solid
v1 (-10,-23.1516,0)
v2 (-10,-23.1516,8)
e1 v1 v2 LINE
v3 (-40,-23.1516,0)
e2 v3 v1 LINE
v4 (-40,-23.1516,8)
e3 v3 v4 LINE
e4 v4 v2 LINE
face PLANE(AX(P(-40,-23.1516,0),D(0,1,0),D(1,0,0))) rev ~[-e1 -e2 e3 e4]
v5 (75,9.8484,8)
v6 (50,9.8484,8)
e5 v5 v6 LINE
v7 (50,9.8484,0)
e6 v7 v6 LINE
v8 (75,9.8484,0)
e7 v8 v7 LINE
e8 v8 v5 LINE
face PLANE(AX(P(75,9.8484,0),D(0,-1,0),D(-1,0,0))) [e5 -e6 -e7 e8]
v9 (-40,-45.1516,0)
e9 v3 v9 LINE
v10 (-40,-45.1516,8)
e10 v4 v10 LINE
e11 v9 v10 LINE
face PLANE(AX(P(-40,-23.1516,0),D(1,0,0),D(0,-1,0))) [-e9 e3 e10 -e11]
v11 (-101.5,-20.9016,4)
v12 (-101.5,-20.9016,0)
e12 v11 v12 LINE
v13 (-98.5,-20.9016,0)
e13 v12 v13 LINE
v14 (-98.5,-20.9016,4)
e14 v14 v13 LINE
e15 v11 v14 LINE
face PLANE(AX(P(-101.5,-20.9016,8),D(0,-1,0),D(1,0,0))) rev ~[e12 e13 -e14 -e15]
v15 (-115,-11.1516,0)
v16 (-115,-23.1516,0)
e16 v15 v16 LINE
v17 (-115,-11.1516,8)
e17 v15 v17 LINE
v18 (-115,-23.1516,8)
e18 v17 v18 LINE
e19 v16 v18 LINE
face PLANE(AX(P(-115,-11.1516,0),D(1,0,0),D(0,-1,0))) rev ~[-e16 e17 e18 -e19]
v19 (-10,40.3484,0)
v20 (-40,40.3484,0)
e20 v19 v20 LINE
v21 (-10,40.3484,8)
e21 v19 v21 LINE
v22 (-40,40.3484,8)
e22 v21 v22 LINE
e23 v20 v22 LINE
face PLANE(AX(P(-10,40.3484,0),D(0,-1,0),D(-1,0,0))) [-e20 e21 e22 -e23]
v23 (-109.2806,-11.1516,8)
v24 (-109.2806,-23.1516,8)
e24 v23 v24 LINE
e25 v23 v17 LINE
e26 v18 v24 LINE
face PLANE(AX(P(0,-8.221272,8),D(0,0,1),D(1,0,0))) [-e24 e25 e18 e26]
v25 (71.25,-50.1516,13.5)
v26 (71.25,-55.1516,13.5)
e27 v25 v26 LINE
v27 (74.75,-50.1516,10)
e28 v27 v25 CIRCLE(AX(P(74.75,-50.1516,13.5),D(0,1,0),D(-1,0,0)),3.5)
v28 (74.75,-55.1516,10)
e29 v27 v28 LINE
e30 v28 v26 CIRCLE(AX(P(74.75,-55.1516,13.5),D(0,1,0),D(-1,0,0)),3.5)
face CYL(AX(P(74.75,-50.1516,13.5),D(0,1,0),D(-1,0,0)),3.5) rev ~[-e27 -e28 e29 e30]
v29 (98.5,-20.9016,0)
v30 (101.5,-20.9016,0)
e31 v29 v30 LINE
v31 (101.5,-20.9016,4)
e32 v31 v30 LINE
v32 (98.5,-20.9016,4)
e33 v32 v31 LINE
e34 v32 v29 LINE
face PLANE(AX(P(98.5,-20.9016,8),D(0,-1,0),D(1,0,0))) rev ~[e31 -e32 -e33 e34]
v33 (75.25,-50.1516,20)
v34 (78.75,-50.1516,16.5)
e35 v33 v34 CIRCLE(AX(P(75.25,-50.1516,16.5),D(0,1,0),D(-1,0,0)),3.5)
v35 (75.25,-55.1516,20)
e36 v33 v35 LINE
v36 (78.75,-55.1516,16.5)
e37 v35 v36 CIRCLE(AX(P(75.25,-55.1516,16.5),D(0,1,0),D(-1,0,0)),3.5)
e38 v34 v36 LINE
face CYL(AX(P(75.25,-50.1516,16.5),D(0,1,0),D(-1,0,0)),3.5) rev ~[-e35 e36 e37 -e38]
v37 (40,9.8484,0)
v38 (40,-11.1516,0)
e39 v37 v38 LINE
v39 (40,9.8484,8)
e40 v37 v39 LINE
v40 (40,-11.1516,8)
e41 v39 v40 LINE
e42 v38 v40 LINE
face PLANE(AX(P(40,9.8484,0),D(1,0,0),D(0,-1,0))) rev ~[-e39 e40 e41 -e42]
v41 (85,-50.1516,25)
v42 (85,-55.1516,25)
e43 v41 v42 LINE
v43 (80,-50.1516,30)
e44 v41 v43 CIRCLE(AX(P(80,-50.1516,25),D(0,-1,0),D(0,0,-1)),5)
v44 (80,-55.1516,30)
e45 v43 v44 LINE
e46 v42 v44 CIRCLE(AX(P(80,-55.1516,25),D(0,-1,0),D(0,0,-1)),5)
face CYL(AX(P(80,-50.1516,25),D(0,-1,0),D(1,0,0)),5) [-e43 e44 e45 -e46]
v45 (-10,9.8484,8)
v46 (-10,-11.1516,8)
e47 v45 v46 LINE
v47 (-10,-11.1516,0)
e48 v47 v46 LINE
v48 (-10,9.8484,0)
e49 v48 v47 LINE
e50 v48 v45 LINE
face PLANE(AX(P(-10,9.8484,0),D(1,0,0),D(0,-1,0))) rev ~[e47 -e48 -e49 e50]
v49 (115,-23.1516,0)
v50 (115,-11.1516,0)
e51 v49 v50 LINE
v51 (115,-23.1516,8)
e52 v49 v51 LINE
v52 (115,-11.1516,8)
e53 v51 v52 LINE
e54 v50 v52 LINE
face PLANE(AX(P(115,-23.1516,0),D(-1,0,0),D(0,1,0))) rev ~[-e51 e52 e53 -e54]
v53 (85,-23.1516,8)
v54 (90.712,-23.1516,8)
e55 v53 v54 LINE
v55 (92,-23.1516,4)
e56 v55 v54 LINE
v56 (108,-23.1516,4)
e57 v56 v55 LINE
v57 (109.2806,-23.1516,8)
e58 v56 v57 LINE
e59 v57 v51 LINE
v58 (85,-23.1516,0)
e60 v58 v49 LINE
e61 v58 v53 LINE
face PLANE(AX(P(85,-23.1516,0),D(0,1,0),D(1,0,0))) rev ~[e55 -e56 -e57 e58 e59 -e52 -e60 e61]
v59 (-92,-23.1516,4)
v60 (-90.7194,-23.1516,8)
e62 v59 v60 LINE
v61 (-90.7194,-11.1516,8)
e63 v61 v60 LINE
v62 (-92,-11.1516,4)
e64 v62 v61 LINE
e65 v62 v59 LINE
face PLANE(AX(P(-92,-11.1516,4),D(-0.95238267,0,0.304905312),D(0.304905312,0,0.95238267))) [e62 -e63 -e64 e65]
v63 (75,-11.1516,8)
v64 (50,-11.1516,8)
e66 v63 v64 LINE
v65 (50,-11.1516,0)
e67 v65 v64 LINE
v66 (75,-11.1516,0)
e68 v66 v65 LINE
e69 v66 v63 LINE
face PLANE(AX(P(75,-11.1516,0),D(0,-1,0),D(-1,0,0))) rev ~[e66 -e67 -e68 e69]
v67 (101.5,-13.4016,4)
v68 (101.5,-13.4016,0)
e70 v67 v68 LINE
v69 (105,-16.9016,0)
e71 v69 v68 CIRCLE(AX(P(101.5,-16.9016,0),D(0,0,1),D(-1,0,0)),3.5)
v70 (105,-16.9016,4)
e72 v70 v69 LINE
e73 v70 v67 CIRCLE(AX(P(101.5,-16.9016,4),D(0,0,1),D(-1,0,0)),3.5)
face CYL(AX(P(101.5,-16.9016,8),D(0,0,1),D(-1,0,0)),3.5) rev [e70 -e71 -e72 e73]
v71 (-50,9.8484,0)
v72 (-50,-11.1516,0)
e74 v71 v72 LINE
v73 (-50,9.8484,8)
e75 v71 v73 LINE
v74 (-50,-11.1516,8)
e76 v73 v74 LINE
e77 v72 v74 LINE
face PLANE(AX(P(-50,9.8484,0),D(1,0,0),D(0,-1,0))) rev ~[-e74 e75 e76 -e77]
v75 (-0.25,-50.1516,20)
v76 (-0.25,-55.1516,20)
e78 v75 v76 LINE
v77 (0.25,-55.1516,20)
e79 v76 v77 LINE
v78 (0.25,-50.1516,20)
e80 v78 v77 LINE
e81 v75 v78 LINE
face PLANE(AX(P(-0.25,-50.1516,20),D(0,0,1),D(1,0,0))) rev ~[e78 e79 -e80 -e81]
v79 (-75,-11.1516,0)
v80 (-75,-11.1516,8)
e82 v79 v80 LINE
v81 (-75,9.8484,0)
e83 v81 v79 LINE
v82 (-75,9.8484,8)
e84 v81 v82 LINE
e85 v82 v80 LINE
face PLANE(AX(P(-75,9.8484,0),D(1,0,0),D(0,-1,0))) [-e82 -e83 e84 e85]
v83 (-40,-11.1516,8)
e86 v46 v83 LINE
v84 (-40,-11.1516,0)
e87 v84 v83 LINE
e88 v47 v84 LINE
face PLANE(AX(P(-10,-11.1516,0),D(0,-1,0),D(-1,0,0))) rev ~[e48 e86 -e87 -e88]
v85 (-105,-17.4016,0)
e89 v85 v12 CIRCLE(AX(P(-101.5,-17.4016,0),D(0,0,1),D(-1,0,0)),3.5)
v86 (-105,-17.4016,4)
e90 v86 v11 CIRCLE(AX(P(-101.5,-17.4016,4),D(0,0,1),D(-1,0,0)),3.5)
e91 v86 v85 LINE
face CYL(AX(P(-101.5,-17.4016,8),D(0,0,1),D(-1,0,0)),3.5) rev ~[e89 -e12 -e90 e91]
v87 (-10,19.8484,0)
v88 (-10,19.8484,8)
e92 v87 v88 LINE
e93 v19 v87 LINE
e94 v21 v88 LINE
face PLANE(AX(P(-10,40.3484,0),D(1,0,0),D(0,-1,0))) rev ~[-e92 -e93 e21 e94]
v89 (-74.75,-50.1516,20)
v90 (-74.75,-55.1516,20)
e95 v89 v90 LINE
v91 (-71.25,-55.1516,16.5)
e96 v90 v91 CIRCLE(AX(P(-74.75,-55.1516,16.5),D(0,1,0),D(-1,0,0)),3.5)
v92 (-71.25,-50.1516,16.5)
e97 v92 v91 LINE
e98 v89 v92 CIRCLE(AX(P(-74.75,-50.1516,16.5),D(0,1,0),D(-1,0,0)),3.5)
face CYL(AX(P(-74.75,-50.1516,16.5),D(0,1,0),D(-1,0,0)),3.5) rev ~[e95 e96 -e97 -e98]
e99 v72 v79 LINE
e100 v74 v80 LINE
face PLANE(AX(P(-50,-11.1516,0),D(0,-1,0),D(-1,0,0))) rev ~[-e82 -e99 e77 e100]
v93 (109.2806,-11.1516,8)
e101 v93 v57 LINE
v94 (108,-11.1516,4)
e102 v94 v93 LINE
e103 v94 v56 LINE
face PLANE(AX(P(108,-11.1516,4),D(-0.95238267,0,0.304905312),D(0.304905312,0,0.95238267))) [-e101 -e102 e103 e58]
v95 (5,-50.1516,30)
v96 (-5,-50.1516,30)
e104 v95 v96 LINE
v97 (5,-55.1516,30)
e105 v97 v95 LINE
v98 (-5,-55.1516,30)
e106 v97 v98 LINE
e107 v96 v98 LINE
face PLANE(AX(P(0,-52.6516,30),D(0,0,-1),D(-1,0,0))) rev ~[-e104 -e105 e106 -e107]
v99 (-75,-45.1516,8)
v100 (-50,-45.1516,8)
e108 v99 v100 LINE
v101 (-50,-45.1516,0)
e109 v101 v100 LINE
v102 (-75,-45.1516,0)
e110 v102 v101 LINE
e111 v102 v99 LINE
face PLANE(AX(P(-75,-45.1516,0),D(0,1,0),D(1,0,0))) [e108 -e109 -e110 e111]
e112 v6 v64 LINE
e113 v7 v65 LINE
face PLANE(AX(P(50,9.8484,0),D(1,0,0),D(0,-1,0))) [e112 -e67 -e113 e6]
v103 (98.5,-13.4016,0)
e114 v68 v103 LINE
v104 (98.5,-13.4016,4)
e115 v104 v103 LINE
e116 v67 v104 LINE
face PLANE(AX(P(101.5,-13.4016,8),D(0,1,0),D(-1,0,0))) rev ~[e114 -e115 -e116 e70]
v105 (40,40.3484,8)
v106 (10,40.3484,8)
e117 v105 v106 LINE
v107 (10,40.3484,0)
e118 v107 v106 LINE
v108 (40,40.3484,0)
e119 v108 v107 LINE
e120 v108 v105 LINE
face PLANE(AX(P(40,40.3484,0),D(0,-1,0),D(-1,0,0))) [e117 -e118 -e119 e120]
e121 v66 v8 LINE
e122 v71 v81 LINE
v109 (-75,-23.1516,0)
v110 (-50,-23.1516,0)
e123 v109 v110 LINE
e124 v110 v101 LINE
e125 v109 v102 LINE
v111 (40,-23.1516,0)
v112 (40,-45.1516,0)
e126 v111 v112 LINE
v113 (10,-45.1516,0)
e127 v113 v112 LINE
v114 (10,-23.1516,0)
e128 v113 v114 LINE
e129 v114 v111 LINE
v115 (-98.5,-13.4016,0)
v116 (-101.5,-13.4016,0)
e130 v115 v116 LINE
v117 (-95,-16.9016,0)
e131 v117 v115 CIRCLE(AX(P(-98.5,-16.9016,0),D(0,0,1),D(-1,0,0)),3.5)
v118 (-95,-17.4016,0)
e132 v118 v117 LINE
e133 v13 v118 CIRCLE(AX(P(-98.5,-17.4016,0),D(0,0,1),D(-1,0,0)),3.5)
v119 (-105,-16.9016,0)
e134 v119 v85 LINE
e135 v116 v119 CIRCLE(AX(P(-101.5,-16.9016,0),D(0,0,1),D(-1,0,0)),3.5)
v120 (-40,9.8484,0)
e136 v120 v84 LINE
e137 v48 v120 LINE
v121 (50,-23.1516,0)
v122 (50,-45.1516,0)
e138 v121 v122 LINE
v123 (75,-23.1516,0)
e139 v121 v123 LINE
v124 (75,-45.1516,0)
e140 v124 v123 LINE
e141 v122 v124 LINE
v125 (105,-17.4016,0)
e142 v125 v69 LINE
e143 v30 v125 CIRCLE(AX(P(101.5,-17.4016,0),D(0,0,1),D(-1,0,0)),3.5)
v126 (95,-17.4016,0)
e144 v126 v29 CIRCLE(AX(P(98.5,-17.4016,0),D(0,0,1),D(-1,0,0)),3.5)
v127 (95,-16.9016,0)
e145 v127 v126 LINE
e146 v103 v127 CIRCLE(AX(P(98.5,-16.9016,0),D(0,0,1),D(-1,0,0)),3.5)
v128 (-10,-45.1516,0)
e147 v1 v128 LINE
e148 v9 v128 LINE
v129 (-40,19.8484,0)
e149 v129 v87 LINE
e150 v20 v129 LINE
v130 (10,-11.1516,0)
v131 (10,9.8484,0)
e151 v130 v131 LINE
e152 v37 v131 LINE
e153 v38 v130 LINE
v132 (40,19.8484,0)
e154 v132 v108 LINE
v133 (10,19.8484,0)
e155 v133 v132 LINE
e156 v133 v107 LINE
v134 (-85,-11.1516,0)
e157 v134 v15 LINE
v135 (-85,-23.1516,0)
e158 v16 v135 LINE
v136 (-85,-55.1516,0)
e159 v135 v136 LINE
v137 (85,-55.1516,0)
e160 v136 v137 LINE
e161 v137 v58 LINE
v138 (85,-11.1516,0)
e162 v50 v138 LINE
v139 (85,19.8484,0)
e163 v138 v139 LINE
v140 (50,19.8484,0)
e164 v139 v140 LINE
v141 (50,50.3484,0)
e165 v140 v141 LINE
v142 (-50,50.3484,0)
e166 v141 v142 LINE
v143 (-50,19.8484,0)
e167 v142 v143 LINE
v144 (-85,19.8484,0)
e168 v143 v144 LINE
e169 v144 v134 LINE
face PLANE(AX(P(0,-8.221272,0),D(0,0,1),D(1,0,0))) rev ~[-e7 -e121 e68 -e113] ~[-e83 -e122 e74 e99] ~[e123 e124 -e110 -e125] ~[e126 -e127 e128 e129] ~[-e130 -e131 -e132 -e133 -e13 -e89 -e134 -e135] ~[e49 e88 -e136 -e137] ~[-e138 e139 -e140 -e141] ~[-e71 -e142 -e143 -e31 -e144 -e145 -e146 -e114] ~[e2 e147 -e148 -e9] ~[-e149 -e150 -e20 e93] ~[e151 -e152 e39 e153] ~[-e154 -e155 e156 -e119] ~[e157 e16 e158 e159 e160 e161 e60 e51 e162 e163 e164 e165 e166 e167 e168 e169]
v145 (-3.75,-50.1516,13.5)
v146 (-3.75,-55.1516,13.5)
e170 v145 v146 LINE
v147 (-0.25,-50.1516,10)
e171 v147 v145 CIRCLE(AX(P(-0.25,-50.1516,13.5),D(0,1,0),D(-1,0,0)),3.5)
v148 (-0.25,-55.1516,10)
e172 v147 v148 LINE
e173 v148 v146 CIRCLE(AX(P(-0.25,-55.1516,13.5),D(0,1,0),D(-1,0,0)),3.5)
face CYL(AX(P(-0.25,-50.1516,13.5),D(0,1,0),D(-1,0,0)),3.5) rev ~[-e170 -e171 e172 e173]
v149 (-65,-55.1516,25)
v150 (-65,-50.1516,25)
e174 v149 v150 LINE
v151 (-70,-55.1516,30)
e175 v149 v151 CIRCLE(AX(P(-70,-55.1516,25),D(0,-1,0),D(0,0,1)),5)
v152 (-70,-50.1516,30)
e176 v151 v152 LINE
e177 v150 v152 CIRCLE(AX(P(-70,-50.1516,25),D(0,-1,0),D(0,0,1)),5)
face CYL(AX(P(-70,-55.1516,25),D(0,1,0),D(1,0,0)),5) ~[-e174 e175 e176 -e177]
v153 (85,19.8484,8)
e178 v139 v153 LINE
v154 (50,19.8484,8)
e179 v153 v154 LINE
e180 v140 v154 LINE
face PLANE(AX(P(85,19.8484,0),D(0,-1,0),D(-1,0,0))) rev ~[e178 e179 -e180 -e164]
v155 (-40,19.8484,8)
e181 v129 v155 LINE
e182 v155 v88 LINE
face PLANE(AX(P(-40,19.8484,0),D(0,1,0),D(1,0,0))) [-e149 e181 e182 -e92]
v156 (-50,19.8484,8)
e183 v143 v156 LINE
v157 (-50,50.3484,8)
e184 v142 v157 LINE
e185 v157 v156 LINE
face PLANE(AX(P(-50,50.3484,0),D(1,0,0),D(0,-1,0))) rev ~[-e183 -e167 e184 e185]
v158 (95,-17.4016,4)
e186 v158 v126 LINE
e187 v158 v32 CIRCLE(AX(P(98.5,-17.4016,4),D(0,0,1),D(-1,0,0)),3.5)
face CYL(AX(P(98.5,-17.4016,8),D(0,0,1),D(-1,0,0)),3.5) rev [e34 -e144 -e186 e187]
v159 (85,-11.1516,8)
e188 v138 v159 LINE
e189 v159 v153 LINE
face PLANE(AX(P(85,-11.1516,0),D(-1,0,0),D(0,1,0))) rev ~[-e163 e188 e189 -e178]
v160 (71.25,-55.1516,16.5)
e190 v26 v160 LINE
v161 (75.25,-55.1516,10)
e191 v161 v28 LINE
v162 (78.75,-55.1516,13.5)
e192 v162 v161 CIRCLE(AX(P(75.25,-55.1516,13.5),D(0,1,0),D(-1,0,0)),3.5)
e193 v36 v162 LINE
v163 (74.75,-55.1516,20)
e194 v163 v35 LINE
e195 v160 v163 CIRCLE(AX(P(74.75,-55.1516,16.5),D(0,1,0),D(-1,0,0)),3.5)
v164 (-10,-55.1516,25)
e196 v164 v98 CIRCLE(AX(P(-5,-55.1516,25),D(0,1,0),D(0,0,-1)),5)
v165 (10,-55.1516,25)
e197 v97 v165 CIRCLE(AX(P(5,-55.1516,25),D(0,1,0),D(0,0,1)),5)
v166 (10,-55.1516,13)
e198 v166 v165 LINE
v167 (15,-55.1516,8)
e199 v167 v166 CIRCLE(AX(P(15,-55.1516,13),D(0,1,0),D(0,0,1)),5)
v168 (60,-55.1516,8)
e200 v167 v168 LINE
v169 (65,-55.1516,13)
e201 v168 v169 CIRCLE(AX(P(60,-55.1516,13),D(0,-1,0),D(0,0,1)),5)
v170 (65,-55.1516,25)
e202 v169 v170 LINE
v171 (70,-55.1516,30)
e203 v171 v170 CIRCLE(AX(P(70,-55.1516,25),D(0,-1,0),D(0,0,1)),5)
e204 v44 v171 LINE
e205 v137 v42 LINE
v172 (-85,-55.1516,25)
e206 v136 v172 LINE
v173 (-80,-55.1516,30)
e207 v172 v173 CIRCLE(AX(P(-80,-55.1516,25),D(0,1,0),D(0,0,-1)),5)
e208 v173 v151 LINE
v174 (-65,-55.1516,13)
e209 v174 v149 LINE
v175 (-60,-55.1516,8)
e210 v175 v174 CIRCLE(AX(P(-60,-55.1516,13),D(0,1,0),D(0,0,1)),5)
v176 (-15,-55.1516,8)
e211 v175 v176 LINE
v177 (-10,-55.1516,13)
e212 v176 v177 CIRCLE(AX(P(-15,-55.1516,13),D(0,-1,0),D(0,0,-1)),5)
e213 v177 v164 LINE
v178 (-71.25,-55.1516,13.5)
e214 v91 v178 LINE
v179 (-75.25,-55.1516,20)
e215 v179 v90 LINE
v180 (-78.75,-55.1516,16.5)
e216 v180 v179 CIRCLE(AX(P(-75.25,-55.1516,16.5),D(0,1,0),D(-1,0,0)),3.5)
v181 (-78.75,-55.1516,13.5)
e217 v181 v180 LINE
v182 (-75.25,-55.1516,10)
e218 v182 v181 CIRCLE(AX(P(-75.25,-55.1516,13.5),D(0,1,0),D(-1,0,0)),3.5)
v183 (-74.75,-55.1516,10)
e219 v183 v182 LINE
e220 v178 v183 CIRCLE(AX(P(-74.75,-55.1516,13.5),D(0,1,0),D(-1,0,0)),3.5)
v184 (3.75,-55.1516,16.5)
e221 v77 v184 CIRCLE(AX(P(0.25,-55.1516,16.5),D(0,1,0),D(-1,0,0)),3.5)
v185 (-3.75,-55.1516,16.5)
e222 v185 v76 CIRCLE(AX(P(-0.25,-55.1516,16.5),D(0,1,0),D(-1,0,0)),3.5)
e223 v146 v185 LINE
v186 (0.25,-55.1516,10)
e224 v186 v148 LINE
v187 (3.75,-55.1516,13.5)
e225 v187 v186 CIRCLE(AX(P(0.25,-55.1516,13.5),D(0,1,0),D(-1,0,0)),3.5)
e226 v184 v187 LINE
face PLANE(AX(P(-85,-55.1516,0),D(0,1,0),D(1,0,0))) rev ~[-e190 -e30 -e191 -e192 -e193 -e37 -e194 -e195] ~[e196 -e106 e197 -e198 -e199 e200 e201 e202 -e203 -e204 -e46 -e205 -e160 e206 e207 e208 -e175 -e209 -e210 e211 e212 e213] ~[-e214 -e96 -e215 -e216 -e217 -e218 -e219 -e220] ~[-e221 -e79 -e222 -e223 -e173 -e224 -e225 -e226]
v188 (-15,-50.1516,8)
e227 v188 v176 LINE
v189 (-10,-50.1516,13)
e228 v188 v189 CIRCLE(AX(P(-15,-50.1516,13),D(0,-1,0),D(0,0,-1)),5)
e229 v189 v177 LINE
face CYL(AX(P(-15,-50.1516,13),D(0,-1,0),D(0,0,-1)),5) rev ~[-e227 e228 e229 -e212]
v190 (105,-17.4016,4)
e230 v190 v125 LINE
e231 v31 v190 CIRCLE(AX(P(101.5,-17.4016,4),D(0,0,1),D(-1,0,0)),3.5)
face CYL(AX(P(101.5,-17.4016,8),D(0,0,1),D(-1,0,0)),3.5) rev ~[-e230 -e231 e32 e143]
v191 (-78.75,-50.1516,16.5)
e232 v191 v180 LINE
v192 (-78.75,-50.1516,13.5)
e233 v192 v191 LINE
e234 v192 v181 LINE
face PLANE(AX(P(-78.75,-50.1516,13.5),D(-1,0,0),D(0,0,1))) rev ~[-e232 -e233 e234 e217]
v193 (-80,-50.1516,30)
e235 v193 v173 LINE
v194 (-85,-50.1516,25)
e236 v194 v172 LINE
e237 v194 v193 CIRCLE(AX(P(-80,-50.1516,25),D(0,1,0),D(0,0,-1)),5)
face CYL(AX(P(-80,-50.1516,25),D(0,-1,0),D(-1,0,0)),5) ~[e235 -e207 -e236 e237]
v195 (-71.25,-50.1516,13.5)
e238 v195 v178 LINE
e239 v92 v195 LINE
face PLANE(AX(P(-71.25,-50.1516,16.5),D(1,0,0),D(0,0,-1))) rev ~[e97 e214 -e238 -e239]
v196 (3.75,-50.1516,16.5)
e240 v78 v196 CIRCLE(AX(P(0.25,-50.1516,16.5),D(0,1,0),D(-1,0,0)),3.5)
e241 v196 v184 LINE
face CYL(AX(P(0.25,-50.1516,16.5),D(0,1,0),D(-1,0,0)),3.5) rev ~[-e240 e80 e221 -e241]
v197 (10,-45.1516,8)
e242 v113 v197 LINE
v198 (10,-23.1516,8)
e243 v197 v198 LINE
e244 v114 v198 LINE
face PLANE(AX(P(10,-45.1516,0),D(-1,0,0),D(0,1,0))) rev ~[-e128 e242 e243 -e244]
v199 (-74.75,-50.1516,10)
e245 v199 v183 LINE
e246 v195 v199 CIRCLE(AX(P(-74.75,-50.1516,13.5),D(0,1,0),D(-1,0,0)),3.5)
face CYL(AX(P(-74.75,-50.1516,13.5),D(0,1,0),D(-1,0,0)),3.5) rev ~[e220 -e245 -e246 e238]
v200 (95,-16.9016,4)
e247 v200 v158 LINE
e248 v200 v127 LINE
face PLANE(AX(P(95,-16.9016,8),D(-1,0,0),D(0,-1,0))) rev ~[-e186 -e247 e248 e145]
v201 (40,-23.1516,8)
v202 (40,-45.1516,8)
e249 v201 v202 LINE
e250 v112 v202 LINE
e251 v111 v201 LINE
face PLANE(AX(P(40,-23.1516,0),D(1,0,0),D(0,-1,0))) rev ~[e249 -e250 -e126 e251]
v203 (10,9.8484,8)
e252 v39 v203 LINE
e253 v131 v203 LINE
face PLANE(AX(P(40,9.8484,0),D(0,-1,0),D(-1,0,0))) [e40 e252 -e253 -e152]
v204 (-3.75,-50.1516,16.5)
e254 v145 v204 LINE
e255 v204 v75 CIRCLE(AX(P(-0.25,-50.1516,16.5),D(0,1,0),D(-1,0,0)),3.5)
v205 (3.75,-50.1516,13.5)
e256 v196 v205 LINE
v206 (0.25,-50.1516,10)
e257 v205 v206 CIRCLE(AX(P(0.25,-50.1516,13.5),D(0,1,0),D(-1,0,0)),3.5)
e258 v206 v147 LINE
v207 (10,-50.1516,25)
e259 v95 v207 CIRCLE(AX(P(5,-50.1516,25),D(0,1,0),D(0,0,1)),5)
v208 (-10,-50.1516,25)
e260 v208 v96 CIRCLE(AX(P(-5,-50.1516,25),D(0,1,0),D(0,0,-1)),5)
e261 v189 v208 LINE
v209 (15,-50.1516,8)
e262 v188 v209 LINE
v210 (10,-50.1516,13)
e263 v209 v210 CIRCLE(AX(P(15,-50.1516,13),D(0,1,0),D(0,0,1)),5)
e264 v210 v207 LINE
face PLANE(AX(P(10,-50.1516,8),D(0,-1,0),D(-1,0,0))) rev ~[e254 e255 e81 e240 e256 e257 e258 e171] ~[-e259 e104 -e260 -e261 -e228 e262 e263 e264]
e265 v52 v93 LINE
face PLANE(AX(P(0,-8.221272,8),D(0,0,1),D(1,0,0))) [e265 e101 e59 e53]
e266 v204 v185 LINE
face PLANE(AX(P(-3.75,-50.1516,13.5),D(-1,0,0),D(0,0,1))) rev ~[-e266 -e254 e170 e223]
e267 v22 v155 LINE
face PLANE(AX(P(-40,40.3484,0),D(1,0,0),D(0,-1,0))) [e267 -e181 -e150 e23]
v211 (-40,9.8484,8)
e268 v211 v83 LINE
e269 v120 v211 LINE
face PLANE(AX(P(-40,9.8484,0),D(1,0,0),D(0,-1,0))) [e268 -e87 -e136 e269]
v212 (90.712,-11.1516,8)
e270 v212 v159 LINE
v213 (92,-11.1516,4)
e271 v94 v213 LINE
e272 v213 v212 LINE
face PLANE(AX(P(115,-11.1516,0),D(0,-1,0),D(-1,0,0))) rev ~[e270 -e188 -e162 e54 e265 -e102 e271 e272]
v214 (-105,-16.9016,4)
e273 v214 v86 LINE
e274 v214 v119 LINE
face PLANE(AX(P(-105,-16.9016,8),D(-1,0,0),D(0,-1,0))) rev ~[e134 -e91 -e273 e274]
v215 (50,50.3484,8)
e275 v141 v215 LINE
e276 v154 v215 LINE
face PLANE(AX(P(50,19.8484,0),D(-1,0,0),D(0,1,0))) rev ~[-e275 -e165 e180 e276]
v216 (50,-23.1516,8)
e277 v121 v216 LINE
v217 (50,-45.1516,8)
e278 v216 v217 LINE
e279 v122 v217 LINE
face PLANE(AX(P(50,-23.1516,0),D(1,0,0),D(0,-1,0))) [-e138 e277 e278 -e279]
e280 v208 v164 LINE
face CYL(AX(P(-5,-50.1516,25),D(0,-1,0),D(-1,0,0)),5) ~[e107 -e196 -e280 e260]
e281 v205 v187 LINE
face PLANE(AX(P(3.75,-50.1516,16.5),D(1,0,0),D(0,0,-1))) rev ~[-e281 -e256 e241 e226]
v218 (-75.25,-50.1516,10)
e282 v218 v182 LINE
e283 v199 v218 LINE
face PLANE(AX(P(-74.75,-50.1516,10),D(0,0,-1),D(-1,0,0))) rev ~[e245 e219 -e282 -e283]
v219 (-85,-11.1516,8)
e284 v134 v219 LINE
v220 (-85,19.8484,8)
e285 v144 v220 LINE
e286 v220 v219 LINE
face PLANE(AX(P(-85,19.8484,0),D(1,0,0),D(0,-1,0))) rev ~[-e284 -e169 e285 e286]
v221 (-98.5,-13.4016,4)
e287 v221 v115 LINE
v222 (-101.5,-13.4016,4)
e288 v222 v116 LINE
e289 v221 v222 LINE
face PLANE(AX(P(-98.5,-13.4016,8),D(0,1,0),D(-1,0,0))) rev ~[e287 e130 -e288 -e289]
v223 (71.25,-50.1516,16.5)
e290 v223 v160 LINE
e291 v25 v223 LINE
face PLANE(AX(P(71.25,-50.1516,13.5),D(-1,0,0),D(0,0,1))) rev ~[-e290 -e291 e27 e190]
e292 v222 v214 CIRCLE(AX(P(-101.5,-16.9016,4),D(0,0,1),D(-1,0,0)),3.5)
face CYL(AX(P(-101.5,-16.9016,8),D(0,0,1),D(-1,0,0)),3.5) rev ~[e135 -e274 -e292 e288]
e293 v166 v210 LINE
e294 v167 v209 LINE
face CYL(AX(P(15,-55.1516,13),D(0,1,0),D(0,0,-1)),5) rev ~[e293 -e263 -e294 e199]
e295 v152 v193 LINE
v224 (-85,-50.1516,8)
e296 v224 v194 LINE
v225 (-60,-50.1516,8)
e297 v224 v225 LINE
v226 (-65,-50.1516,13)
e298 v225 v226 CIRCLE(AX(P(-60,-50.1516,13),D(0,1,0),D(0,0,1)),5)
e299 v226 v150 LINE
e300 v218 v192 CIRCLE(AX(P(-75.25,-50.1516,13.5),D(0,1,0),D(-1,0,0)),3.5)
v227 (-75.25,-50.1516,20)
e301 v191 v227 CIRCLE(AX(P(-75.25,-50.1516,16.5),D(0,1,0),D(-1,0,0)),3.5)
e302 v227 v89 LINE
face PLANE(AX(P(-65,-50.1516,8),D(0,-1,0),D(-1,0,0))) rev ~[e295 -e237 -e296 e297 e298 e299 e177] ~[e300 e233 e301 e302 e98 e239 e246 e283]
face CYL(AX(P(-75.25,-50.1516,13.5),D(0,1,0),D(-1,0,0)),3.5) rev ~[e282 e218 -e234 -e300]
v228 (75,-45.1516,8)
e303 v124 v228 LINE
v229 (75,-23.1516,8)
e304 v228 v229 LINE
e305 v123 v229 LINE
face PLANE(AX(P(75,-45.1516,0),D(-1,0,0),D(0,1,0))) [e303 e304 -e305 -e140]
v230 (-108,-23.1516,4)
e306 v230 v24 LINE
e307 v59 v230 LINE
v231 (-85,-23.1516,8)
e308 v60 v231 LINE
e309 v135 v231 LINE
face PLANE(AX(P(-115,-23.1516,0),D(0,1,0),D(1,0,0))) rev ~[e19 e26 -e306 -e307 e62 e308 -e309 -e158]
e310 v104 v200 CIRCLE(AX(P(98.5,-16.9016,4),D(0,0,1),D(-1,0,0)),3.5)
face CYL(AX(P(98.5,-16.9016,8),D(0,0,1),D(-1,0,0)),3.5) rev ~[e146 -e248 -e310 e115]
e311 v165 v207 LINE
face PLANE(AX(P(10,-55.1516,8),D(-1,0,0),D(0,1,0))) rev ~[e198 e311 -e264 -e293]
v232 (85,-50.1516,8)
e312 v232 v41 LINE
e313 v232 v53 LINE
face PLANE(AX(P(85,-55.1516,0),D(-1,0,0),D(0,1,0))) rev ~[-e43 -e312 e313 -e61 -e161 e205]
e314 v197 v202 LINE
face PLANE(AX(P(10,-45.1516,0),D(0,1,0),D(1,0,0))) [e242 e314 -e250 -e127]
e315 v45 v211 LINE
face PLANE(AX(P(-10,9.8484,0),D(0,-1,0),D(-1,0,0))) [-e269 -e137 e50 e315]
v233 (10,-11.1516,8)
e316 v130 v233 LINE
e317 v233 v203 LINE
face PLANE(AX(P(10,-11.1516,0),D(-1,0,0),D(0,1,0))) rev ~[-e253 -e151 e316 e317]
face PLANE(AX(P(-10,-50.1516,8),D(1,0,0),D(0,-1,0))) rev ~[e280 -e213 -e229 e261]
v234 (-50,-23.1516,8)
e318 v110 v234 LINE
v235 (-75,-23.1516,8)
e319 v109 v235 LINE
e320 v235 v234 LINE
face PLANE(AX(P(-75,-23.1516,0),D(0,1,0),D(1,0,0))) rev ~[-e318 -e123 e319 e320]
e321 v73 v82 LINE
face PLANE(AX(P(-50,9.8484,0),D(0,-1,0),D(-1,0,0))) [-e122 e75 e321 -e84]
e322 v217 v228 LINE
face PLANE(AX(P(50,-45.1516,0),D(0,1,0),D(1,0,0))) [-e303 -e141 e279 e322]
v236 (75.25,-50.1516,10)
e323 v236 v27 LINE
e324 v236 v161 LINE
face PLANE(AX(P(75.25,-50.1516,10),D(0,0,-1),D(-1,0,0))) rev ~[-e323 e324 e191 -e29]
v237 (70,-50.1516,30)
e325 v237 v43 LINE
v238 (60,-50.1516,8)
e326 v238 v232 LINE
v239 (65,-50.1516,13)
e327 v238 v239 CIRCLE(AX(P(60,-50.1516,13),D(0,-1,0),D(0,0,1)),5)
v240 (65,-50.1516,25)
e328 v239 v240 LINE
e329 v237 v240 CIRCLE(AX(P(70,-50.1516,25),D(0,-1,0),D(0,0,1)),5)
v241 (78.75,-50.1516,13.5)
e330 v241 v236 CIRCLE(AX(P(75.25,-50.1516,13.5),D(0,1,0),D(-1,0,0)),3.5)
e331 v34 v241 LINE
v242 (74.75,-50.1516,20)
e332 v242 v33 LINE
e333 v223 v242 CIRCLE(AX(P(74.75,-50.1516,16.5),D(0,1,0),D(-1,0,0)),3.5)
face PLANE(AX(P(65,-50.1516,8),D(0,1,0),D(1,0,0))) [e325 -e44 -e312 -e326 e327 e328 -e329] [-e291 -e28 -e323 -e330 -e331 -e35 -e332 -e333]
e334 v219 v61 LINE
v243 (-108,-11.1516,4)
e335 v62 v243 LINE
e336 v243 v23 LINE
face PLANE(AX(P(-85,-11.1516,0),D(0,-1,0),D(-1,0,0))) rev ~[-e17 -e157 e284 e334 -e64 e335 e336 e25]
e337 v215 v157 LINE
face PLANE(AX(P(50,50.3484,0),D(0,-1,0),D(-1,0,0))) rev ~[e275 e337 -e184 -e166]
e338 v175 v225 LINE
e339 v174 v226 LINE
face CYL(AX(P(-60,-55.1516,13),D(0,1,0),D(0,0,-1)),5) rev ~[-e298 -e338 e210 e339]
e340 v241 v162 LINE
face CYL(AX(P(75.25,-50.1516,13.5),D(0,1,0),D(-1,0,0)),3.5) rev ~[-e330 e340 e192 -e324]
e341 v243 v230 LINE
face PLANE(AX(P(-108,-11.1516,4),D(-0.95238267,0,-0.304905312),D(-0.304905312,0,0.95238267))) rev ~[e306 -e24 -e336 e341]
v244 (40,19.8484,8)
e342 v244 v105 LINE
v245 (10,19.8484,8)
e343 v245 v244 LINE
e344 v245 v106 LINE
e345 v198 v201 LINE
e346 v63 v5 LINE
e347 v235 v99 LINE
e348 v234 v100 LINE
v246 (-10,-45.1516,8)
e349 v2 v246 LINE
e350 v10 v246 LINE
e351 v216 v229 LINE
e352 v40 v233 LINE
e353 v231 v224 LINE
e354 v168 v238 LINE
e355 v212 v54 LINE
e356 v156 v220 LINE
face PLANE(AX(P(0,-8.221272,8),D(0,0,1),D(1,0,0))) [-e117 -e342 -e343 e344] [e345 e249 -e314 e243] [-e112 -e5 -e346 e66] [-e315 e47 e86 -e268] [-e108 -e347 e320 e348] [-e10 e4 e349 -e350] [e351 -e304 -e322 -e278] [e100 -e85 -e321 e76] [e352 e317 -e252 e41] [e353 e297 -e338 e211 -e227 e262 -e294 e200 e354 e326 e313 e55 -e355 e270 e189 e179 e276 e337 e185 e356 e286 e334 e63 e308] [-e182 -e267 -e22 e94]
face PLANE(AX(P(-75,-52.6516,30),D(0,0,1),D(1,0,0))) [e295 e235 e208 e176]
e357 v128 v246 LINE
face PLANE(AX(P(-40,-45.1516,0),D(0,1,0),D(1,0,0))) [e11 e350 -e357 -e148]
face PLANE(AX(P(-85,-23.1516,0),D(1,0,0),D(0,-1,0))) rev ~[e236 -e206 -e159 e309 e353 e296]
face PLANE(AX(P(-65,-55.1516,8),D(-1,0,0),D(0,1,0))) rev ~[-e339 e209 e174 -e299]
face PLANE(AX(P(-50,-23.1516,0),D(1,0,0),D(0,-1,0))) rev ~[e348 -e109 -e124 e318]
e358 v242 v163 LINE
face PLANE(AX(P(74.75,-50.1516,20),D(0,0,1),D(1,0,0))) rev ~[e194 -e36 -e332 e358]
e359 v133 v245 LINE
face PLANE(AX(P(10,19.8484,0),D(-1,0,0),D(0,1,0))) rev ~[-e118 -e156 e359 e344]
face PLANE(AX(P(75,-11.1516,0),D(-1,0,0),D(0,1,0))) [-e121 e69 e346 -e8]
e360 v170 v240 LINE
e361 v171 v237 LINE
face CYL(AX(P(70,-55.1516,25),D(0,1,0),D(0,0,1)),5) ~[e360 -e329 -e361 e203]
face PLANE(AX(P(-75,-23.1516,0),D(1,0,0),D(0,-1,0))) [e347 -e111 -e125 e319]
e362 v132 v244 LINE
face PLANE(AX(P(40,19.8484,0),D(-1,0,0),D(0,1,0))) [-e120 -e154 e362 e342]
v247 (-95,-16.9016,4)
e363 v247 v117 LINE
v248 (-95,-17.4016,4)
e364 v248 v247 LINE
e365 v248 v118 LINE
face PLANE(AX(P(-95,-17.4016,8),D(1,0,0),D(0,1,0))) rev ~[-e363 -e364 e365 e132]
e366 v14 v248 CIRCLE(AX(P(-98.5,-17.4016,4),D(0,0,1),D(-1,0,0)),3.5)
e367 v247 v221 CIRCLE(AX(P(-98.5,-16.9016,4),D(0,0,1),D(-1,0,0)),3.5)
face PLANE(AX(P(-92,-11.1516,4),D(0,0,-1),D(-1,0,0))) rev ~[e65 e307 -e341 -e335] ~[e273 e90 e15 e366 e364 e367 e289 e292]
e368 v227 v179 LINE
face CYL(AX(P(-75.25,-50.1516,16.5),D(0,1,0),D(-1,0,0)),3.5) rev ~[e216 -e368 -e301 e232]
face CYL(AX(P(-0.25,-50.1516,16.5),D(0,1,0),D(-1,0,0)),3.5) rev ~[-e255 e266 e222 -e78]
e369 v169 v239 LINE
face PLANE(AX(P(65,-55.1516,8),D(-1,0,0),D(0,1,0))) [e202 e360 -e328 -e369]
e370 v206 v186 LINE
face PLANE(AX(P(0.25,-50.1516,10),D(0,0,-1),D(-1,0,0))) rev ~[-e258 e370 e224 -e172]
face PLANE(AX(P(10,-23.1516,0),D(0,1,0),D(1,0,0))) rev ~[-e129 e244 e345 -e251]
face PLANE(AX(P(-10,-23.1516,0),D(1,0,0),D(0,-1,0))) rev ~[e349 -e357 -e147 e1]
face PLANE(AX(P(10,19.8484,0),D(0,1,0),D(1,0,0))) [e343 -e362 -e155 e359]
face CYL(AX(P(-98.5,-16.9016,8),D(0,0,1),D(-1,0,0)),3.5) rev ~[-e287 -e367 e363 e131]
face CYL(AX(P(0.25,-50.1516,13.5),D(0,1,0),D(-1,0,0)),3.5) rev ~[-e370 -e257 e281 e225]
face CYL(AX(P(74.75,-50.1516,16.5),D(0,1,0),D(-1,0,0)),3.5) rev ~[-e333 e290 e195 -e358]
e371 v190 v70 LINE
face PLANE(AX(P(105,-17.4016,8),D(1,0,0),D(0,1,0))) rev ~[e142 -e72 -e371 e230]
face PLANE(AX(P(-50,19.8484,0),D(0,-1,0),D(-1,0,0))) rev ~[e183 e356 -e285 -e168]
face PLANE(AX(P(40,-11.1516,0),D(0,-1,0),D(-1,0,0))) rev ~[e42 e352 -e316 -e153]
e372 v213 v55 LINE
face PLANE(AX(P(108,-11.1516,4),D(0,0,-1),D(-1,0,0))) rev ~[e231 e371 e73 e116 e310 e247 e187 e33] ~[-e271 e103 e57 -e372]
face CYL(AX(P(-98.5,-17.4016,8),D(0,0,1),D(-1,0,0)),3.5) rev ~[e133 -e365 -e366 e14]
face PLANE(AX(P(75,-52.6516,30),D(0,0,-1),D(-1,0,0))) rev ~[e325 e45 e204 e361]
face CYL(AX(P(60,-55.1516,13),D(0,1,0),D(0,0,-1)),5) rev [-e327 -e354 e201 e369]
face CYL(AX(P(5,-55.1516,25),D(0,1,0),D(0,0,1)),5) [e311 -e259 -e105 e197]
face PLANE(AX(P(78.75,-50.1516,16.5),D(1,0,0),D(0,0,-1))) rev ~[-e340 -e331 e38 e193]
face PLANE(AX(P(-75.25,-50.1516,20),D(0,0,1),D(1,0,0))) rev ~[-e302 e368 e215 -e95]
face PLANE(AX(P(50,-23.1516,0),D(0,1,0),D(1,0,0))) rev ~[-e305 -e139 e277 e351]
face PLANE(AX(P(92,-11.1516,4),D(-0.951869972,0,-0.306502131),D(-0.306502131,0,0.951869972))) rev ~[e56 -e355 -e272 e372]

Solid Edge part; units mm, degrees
sketch "Sketch1" plane through (0, 0, 0) normal (0, 0, 1) x (1, 0, 0)
  line L0 (-10, 40.3484) -> (-40, 40.3484)
  line L1 (-40, 40.3484) -> (-40, 19.8484)
  line L2 (-40, 19.8484) -> (-10, 19.8484)
  line L3 (-10, 40.3484) -> (-10, 19.8484)
  line L4 (10, -45.1516) -> (40, -45.1516)
  line L5 (40, -23.1516) -> (40, -45.1516)
  line L6 (10, -23.1516) -> (40, -23.1516)
  line L7 (10, -45.1516) -> (10, -23.1516)
  line L8 (40, 19.8484) -> (40, 40.3484)
  line L9 (40, 40.3484) -> (10, 40.3484)
  line L10 (10, 19.8484) -> (10, 40.3484)
  line L11 (10, 19.8484) -> (40, 19.8484)
  line L12 (75, -11.1516) -> (75, 9.8484)
  line L13 (75, 9.8484) -> (50, 9.8484)
  line L14 (50, 9.8484) -> (50, -11.1516)
  line L15 (75, -11.1516) -> (50, -11.1516)
  line L16 (50, -23.1516) -> (50, -45.1516)
  line L17 (50, -45.1516) -> (75, -45.1516)
  line L18 (75, -45.1516) -> (75, -23.1516)
  line L19 (50, -23.1516) -> (75, -23.1516)
  line L20 (-115, -23.1516) -> (-85, -23.1516)
  line L21 (-85, -23.1516) -> (-85, -55.1516)
  line L22 (-85, -55.1516) -> (85, -55.1516)
  line L23 (85, -55.1516) -> (85, -23.1516)
  line L24 (85, -23.1516) -> (115, -23.1516)
  line L25 (115, -23.1516) -> (115, -11.1516)
  line L26 (115, -11.1516) -> (85, -11.1516)
  line L27 (85, -11.1516) -> (85, 19.8484)
  line L28 (85, 19.8484) -> (50, 19.8484)
  line L29 (50, 19.8484) -> (50, 50.3484)
  line L30 (50, 50.3484) -> (-50, 50.3484)
  line L31 (-50, 50.3484) -> (-50, 19.8484)
  line L32 (-50, 19.8484) -> (-85, 19.8484)
  line L33 (-85, 19.8484) -> (-85, -11.1516)
  line L34 (-85, -11.1516) -> (-115, -11.1516)
  line L35 (-115, -11.1516) -> (-115, -23.1516)
  line L36 (-50, 9.8484) -> (-75, 9.8484)
  line L37 (-75, 9.8484) -> (-75, -11.1516)
  line L38 (-50, -11.1516) -> (-75, -11.1516)
  line L39 (-50, 9.8484) -> (-50, -11.1516)
  line L40 (-75, -23.1516) -> (-75, -45.1516)
  line L41 (-75, -45.1516) -> (-50, -45.1516)
  line L42 (-50, -23.1516) -> (-50, -45.1516)
  line L43 (-75, -23.1516) -> (-50, -23.1516)
  line L44 (-40, -23.1516) -> (-40, -45.1516)
  line L45 (-40, -45.1516) -> (-10, -45.1516)
  line L46 (-10, -23.1516) -> (-10, -45.1516)
  line L47 (-40, -23.1516) -> (-10, -23.1516)
  line L48 (40, 9.8484) -> (10, 9.8484)
  line L49 (10, -11.1516) -> (10, 9.8484)
  line L50 (40, -11.1516) -> (10, -11.1516)
  line L51 (40, 9.8484) -> (40, -11.1516)
  line L52 (-10, 9.8484) -> (-40, 9.8484)
  line L53 (-40, 9.8484) -> (-40, -11.1516)
  line L54 (-10, -11.1516) -> (-40, -11.1516)
  line L55 (-10, 9.8484) -> (-10, -11.1516)
  dimension "D1" = 30.5
  dimension "D2" = 30.5
  dimension "D3" = 100
  dimension "D4" = 170
  dimension "D5" = 31
  dimension "D6" = 31
  dimension "D7" = 12
  dimension "D8" = 12
  dimension "D9" = 75
  dimension "D10" = 10
extrude "Protrusion1" add sketch "Sketch1" along normal blind 8
sketch "Sketch2" plane through (0, -2.4016, 8) normal (0, 0, 1) x (-1, 0, 0)
  line L0 (-85, 52.75) -> (-65, 52.75)
  line L1 (-65, 52.75) -> (-65, 47.75)
  line L2 (-65, 47.75) -> (-85, 47.75)
  line L3 (-85, 47.75) -> (-85, 52.75)
  line L4 (-10, 52.75) -> (10, 52.75)
  line L5 (10, 47.75) -> (10, 52.75)
  line L6 (-10, 47.75) -> (10, 47.75)
  line L7 (-10, 52.75) -> (-10, 47.75)
  line L8 (85, 52.75) -> (65, 52.75)
  line L9 (65, 52.75) -> (65, 47.75)
  line L10 (65, 47.75) -> (85, 47.75)
  line L11 (85, 47.75) -> (85, 52.75)
extrude "Protrusion2" add sketch "Sketch2" along normal blind 22
fillet "Round1" radius 5 4 edges at (-10, -52.6516, 8) (-65, -52.6516, 8) (10, -52.6516, 8) (65, -52.6516, 8)
sketch "Sketch3" plane through (-72.5, -50.1516, 19) normal (0, 1, 0) x (-1, 0, 0)
  arc A0 (2.75, -9) -> (6.25, -5.5) centre (2.75, -5.5) ccw
  line L0 (6.25, -5.5) -> (6.25, -2.5)
  arc A1 (6.25, -2.5) -> (2.75, 1) centre (2.75, -2.5) ccw
  line L1 (2.75, 1) -> (2.25, 1)
  arc A2 (2.25, 1) -> (-1.25, -2.5) centre (2.25, -2.5) ccw
  line L2 (-1.25, -2.5) -> (-1.25, -5.5)
  arc A3 (-1.25, -5.5) -> (2.25, -9) centre (2.25, -5.5) ccw
  line L3 (2.25, -9) -> (2.75, -9)
extrude "Cutout1" cut sketch "Sketch3" against normal blind 40
sketch "Sketch4" plane through (0, -50.1516, 19) normal (0, 1, 0) x (-1, 0, 0)
  arc A0 (0.25, -9) -> (3.75, -5.5) centre (0.25, -5.5) ccw
  line L0 (3.75, -5.5) -> (3.75, -2.5)
  arc A1 (3.75, -2.5) -> (0.25, 1) centre (0.25, -2.5) ccw
  line L1 (0.25, 1) -> (-0.25, 1)
  arc A2 (-0.25, 1) -> (-3.75, -2.5) centre (-0.25, -2.5) ccw
  line L2 (-3.75, -2.5) -> (-3.75, -5.5)
  arc A3 (-3.75, -5.5) -> (-0.25, -9) centre (-0.25, -5.5) ccw
  line L3 (-0.25, -9) -> (0.25, -9)
extrude "Cutout2" cut sketch "Sketch4" against normal blind 30
sketch "Sketch5" plane through (72.5, -50.1516, 19) normal (0, 1, 0) x (-1, 0, 0)
  arc A0 (-2.25, -9) -> (1.25, -5.5) centre (-2.25, -5.5) ccw
  line L0 (1.25, -5.5) -> (1.25, -2.5)
  arc A1 (1.25, -2.5) -> (-2.25, 1) centre (-2.25, -2.5) ccw
  line L1 (-2.25, 1) -> (-2.75, 1)
  arc A2 (-2.75, 1) -> (-6.25, -2.5) centre (-2.75, -2.5) ccw
  line L2 (-6.25, -2.5) -> (-6.25, -5.5)
  arc A3 (-6.25, -5.5) -> (-2.75, -9) centre (-2.75, -5.5) ccw
  line L3 (-2.75, -9) -> (-2.25, -9)
extrude "Cutout3" cut sketch "Sketch5" against normal blind 10
fillet "Round2" radius 5 6 edges at (-10, -52.6516, 30) (10, -52.6516, 30) (-65, -52.6516, 30) (-85, -52.6516, 30) (65, -52.6516, 30) (85, -52.6516, 30)
sketch "Sketch6" plane through (0, -2.4016, 8) normal (0, 0, 1) x (-1, 0, 0)
  arc A0 (-98.5, 18.5) -> (-95, 15) centre (-98.5, 15) cw
  line L0 (-95, 14.5) -> (-95, 15)
  arc A1 (-98.5, 11) -> (-95, 14.5) centre (-98.5, 14.5) ccw
  line L1 (-101.5, 11) -> (-98.5, 11)
  arc A2 (-101.5, 11) -> (-105, 14.5) centre (-101.5, 14.5) cw
  line L2 (-105, 15) -> (-105, 14.5)
  arc A3 (-101.5, 18.5) -> (-105, 15) centre (-101.5, 15) ccw
  line L3 (-98.5, 18.5) -> (-101.5, 18.5)
  line L4 (95, 15) -> (95, 14.5)
  arc A4 (95, 14.5) -> (98.5, 11) centre (98.5, 14.5) ccw
  line L5 (98.5, 11) -> (101.5, 11)
  arc A5 (101.5, 11) -> (105, 14.5) centre (101.5, 14.5) ccw
  line L6 (105, 14.5) -> (105, 15)
  arc A6 (105, 15) -> (101.5, 18.5) centre (101.5, 15) ccw
  line L7 (101.5, 18.5) -> (98.5, 18.5)
  arc A7 (98.5, 18.5) -> (95, 15) centre (98.5, 15) ccw
  dimension "D1" = 10
  dimension "D2" = 7.5
  dimension "D3" = 10
  dimension "D4" = 2.25
  dimension "D5" = 7.5
  dimension "D6" = 10
  dimension "D7" = 10
  dimension "D8" = 2.25
extrude "Cutout4" cut sketch "Sketch6" against normal blind 30
sketch "Sketch7" plane through (100, -11.1516, 4) normal (0, 1, 0) x (-1, 0, 0)
  line L0 (-8, 0) -> (-9.2806, 4)
  line L1 (9.288, 4) -> (-9.2806, 4)
  line L2 (8, 0) -> (9.288, 4)
  line L3 (-8, 0) -> (8, 0)
extrude "Cutout5" cut sketch "Sketch7" against normal blind 60
sketch "Sketch8" plane through (-100, -11.1516, 4) normal (0, 1, 0) x (-1, 0, 0)
  line L0 (-8, 0) -> (-9.2806, 4)
  line L1 (9.2806, 4) -> (-9.2806, 4)
  line L2 (8, 0) -> (9.2806, 4)
  line L3 (-8, 0) -> (8, 0)
extrude "Cutout6" cut sketch "Sketch8" against normal blind 40
